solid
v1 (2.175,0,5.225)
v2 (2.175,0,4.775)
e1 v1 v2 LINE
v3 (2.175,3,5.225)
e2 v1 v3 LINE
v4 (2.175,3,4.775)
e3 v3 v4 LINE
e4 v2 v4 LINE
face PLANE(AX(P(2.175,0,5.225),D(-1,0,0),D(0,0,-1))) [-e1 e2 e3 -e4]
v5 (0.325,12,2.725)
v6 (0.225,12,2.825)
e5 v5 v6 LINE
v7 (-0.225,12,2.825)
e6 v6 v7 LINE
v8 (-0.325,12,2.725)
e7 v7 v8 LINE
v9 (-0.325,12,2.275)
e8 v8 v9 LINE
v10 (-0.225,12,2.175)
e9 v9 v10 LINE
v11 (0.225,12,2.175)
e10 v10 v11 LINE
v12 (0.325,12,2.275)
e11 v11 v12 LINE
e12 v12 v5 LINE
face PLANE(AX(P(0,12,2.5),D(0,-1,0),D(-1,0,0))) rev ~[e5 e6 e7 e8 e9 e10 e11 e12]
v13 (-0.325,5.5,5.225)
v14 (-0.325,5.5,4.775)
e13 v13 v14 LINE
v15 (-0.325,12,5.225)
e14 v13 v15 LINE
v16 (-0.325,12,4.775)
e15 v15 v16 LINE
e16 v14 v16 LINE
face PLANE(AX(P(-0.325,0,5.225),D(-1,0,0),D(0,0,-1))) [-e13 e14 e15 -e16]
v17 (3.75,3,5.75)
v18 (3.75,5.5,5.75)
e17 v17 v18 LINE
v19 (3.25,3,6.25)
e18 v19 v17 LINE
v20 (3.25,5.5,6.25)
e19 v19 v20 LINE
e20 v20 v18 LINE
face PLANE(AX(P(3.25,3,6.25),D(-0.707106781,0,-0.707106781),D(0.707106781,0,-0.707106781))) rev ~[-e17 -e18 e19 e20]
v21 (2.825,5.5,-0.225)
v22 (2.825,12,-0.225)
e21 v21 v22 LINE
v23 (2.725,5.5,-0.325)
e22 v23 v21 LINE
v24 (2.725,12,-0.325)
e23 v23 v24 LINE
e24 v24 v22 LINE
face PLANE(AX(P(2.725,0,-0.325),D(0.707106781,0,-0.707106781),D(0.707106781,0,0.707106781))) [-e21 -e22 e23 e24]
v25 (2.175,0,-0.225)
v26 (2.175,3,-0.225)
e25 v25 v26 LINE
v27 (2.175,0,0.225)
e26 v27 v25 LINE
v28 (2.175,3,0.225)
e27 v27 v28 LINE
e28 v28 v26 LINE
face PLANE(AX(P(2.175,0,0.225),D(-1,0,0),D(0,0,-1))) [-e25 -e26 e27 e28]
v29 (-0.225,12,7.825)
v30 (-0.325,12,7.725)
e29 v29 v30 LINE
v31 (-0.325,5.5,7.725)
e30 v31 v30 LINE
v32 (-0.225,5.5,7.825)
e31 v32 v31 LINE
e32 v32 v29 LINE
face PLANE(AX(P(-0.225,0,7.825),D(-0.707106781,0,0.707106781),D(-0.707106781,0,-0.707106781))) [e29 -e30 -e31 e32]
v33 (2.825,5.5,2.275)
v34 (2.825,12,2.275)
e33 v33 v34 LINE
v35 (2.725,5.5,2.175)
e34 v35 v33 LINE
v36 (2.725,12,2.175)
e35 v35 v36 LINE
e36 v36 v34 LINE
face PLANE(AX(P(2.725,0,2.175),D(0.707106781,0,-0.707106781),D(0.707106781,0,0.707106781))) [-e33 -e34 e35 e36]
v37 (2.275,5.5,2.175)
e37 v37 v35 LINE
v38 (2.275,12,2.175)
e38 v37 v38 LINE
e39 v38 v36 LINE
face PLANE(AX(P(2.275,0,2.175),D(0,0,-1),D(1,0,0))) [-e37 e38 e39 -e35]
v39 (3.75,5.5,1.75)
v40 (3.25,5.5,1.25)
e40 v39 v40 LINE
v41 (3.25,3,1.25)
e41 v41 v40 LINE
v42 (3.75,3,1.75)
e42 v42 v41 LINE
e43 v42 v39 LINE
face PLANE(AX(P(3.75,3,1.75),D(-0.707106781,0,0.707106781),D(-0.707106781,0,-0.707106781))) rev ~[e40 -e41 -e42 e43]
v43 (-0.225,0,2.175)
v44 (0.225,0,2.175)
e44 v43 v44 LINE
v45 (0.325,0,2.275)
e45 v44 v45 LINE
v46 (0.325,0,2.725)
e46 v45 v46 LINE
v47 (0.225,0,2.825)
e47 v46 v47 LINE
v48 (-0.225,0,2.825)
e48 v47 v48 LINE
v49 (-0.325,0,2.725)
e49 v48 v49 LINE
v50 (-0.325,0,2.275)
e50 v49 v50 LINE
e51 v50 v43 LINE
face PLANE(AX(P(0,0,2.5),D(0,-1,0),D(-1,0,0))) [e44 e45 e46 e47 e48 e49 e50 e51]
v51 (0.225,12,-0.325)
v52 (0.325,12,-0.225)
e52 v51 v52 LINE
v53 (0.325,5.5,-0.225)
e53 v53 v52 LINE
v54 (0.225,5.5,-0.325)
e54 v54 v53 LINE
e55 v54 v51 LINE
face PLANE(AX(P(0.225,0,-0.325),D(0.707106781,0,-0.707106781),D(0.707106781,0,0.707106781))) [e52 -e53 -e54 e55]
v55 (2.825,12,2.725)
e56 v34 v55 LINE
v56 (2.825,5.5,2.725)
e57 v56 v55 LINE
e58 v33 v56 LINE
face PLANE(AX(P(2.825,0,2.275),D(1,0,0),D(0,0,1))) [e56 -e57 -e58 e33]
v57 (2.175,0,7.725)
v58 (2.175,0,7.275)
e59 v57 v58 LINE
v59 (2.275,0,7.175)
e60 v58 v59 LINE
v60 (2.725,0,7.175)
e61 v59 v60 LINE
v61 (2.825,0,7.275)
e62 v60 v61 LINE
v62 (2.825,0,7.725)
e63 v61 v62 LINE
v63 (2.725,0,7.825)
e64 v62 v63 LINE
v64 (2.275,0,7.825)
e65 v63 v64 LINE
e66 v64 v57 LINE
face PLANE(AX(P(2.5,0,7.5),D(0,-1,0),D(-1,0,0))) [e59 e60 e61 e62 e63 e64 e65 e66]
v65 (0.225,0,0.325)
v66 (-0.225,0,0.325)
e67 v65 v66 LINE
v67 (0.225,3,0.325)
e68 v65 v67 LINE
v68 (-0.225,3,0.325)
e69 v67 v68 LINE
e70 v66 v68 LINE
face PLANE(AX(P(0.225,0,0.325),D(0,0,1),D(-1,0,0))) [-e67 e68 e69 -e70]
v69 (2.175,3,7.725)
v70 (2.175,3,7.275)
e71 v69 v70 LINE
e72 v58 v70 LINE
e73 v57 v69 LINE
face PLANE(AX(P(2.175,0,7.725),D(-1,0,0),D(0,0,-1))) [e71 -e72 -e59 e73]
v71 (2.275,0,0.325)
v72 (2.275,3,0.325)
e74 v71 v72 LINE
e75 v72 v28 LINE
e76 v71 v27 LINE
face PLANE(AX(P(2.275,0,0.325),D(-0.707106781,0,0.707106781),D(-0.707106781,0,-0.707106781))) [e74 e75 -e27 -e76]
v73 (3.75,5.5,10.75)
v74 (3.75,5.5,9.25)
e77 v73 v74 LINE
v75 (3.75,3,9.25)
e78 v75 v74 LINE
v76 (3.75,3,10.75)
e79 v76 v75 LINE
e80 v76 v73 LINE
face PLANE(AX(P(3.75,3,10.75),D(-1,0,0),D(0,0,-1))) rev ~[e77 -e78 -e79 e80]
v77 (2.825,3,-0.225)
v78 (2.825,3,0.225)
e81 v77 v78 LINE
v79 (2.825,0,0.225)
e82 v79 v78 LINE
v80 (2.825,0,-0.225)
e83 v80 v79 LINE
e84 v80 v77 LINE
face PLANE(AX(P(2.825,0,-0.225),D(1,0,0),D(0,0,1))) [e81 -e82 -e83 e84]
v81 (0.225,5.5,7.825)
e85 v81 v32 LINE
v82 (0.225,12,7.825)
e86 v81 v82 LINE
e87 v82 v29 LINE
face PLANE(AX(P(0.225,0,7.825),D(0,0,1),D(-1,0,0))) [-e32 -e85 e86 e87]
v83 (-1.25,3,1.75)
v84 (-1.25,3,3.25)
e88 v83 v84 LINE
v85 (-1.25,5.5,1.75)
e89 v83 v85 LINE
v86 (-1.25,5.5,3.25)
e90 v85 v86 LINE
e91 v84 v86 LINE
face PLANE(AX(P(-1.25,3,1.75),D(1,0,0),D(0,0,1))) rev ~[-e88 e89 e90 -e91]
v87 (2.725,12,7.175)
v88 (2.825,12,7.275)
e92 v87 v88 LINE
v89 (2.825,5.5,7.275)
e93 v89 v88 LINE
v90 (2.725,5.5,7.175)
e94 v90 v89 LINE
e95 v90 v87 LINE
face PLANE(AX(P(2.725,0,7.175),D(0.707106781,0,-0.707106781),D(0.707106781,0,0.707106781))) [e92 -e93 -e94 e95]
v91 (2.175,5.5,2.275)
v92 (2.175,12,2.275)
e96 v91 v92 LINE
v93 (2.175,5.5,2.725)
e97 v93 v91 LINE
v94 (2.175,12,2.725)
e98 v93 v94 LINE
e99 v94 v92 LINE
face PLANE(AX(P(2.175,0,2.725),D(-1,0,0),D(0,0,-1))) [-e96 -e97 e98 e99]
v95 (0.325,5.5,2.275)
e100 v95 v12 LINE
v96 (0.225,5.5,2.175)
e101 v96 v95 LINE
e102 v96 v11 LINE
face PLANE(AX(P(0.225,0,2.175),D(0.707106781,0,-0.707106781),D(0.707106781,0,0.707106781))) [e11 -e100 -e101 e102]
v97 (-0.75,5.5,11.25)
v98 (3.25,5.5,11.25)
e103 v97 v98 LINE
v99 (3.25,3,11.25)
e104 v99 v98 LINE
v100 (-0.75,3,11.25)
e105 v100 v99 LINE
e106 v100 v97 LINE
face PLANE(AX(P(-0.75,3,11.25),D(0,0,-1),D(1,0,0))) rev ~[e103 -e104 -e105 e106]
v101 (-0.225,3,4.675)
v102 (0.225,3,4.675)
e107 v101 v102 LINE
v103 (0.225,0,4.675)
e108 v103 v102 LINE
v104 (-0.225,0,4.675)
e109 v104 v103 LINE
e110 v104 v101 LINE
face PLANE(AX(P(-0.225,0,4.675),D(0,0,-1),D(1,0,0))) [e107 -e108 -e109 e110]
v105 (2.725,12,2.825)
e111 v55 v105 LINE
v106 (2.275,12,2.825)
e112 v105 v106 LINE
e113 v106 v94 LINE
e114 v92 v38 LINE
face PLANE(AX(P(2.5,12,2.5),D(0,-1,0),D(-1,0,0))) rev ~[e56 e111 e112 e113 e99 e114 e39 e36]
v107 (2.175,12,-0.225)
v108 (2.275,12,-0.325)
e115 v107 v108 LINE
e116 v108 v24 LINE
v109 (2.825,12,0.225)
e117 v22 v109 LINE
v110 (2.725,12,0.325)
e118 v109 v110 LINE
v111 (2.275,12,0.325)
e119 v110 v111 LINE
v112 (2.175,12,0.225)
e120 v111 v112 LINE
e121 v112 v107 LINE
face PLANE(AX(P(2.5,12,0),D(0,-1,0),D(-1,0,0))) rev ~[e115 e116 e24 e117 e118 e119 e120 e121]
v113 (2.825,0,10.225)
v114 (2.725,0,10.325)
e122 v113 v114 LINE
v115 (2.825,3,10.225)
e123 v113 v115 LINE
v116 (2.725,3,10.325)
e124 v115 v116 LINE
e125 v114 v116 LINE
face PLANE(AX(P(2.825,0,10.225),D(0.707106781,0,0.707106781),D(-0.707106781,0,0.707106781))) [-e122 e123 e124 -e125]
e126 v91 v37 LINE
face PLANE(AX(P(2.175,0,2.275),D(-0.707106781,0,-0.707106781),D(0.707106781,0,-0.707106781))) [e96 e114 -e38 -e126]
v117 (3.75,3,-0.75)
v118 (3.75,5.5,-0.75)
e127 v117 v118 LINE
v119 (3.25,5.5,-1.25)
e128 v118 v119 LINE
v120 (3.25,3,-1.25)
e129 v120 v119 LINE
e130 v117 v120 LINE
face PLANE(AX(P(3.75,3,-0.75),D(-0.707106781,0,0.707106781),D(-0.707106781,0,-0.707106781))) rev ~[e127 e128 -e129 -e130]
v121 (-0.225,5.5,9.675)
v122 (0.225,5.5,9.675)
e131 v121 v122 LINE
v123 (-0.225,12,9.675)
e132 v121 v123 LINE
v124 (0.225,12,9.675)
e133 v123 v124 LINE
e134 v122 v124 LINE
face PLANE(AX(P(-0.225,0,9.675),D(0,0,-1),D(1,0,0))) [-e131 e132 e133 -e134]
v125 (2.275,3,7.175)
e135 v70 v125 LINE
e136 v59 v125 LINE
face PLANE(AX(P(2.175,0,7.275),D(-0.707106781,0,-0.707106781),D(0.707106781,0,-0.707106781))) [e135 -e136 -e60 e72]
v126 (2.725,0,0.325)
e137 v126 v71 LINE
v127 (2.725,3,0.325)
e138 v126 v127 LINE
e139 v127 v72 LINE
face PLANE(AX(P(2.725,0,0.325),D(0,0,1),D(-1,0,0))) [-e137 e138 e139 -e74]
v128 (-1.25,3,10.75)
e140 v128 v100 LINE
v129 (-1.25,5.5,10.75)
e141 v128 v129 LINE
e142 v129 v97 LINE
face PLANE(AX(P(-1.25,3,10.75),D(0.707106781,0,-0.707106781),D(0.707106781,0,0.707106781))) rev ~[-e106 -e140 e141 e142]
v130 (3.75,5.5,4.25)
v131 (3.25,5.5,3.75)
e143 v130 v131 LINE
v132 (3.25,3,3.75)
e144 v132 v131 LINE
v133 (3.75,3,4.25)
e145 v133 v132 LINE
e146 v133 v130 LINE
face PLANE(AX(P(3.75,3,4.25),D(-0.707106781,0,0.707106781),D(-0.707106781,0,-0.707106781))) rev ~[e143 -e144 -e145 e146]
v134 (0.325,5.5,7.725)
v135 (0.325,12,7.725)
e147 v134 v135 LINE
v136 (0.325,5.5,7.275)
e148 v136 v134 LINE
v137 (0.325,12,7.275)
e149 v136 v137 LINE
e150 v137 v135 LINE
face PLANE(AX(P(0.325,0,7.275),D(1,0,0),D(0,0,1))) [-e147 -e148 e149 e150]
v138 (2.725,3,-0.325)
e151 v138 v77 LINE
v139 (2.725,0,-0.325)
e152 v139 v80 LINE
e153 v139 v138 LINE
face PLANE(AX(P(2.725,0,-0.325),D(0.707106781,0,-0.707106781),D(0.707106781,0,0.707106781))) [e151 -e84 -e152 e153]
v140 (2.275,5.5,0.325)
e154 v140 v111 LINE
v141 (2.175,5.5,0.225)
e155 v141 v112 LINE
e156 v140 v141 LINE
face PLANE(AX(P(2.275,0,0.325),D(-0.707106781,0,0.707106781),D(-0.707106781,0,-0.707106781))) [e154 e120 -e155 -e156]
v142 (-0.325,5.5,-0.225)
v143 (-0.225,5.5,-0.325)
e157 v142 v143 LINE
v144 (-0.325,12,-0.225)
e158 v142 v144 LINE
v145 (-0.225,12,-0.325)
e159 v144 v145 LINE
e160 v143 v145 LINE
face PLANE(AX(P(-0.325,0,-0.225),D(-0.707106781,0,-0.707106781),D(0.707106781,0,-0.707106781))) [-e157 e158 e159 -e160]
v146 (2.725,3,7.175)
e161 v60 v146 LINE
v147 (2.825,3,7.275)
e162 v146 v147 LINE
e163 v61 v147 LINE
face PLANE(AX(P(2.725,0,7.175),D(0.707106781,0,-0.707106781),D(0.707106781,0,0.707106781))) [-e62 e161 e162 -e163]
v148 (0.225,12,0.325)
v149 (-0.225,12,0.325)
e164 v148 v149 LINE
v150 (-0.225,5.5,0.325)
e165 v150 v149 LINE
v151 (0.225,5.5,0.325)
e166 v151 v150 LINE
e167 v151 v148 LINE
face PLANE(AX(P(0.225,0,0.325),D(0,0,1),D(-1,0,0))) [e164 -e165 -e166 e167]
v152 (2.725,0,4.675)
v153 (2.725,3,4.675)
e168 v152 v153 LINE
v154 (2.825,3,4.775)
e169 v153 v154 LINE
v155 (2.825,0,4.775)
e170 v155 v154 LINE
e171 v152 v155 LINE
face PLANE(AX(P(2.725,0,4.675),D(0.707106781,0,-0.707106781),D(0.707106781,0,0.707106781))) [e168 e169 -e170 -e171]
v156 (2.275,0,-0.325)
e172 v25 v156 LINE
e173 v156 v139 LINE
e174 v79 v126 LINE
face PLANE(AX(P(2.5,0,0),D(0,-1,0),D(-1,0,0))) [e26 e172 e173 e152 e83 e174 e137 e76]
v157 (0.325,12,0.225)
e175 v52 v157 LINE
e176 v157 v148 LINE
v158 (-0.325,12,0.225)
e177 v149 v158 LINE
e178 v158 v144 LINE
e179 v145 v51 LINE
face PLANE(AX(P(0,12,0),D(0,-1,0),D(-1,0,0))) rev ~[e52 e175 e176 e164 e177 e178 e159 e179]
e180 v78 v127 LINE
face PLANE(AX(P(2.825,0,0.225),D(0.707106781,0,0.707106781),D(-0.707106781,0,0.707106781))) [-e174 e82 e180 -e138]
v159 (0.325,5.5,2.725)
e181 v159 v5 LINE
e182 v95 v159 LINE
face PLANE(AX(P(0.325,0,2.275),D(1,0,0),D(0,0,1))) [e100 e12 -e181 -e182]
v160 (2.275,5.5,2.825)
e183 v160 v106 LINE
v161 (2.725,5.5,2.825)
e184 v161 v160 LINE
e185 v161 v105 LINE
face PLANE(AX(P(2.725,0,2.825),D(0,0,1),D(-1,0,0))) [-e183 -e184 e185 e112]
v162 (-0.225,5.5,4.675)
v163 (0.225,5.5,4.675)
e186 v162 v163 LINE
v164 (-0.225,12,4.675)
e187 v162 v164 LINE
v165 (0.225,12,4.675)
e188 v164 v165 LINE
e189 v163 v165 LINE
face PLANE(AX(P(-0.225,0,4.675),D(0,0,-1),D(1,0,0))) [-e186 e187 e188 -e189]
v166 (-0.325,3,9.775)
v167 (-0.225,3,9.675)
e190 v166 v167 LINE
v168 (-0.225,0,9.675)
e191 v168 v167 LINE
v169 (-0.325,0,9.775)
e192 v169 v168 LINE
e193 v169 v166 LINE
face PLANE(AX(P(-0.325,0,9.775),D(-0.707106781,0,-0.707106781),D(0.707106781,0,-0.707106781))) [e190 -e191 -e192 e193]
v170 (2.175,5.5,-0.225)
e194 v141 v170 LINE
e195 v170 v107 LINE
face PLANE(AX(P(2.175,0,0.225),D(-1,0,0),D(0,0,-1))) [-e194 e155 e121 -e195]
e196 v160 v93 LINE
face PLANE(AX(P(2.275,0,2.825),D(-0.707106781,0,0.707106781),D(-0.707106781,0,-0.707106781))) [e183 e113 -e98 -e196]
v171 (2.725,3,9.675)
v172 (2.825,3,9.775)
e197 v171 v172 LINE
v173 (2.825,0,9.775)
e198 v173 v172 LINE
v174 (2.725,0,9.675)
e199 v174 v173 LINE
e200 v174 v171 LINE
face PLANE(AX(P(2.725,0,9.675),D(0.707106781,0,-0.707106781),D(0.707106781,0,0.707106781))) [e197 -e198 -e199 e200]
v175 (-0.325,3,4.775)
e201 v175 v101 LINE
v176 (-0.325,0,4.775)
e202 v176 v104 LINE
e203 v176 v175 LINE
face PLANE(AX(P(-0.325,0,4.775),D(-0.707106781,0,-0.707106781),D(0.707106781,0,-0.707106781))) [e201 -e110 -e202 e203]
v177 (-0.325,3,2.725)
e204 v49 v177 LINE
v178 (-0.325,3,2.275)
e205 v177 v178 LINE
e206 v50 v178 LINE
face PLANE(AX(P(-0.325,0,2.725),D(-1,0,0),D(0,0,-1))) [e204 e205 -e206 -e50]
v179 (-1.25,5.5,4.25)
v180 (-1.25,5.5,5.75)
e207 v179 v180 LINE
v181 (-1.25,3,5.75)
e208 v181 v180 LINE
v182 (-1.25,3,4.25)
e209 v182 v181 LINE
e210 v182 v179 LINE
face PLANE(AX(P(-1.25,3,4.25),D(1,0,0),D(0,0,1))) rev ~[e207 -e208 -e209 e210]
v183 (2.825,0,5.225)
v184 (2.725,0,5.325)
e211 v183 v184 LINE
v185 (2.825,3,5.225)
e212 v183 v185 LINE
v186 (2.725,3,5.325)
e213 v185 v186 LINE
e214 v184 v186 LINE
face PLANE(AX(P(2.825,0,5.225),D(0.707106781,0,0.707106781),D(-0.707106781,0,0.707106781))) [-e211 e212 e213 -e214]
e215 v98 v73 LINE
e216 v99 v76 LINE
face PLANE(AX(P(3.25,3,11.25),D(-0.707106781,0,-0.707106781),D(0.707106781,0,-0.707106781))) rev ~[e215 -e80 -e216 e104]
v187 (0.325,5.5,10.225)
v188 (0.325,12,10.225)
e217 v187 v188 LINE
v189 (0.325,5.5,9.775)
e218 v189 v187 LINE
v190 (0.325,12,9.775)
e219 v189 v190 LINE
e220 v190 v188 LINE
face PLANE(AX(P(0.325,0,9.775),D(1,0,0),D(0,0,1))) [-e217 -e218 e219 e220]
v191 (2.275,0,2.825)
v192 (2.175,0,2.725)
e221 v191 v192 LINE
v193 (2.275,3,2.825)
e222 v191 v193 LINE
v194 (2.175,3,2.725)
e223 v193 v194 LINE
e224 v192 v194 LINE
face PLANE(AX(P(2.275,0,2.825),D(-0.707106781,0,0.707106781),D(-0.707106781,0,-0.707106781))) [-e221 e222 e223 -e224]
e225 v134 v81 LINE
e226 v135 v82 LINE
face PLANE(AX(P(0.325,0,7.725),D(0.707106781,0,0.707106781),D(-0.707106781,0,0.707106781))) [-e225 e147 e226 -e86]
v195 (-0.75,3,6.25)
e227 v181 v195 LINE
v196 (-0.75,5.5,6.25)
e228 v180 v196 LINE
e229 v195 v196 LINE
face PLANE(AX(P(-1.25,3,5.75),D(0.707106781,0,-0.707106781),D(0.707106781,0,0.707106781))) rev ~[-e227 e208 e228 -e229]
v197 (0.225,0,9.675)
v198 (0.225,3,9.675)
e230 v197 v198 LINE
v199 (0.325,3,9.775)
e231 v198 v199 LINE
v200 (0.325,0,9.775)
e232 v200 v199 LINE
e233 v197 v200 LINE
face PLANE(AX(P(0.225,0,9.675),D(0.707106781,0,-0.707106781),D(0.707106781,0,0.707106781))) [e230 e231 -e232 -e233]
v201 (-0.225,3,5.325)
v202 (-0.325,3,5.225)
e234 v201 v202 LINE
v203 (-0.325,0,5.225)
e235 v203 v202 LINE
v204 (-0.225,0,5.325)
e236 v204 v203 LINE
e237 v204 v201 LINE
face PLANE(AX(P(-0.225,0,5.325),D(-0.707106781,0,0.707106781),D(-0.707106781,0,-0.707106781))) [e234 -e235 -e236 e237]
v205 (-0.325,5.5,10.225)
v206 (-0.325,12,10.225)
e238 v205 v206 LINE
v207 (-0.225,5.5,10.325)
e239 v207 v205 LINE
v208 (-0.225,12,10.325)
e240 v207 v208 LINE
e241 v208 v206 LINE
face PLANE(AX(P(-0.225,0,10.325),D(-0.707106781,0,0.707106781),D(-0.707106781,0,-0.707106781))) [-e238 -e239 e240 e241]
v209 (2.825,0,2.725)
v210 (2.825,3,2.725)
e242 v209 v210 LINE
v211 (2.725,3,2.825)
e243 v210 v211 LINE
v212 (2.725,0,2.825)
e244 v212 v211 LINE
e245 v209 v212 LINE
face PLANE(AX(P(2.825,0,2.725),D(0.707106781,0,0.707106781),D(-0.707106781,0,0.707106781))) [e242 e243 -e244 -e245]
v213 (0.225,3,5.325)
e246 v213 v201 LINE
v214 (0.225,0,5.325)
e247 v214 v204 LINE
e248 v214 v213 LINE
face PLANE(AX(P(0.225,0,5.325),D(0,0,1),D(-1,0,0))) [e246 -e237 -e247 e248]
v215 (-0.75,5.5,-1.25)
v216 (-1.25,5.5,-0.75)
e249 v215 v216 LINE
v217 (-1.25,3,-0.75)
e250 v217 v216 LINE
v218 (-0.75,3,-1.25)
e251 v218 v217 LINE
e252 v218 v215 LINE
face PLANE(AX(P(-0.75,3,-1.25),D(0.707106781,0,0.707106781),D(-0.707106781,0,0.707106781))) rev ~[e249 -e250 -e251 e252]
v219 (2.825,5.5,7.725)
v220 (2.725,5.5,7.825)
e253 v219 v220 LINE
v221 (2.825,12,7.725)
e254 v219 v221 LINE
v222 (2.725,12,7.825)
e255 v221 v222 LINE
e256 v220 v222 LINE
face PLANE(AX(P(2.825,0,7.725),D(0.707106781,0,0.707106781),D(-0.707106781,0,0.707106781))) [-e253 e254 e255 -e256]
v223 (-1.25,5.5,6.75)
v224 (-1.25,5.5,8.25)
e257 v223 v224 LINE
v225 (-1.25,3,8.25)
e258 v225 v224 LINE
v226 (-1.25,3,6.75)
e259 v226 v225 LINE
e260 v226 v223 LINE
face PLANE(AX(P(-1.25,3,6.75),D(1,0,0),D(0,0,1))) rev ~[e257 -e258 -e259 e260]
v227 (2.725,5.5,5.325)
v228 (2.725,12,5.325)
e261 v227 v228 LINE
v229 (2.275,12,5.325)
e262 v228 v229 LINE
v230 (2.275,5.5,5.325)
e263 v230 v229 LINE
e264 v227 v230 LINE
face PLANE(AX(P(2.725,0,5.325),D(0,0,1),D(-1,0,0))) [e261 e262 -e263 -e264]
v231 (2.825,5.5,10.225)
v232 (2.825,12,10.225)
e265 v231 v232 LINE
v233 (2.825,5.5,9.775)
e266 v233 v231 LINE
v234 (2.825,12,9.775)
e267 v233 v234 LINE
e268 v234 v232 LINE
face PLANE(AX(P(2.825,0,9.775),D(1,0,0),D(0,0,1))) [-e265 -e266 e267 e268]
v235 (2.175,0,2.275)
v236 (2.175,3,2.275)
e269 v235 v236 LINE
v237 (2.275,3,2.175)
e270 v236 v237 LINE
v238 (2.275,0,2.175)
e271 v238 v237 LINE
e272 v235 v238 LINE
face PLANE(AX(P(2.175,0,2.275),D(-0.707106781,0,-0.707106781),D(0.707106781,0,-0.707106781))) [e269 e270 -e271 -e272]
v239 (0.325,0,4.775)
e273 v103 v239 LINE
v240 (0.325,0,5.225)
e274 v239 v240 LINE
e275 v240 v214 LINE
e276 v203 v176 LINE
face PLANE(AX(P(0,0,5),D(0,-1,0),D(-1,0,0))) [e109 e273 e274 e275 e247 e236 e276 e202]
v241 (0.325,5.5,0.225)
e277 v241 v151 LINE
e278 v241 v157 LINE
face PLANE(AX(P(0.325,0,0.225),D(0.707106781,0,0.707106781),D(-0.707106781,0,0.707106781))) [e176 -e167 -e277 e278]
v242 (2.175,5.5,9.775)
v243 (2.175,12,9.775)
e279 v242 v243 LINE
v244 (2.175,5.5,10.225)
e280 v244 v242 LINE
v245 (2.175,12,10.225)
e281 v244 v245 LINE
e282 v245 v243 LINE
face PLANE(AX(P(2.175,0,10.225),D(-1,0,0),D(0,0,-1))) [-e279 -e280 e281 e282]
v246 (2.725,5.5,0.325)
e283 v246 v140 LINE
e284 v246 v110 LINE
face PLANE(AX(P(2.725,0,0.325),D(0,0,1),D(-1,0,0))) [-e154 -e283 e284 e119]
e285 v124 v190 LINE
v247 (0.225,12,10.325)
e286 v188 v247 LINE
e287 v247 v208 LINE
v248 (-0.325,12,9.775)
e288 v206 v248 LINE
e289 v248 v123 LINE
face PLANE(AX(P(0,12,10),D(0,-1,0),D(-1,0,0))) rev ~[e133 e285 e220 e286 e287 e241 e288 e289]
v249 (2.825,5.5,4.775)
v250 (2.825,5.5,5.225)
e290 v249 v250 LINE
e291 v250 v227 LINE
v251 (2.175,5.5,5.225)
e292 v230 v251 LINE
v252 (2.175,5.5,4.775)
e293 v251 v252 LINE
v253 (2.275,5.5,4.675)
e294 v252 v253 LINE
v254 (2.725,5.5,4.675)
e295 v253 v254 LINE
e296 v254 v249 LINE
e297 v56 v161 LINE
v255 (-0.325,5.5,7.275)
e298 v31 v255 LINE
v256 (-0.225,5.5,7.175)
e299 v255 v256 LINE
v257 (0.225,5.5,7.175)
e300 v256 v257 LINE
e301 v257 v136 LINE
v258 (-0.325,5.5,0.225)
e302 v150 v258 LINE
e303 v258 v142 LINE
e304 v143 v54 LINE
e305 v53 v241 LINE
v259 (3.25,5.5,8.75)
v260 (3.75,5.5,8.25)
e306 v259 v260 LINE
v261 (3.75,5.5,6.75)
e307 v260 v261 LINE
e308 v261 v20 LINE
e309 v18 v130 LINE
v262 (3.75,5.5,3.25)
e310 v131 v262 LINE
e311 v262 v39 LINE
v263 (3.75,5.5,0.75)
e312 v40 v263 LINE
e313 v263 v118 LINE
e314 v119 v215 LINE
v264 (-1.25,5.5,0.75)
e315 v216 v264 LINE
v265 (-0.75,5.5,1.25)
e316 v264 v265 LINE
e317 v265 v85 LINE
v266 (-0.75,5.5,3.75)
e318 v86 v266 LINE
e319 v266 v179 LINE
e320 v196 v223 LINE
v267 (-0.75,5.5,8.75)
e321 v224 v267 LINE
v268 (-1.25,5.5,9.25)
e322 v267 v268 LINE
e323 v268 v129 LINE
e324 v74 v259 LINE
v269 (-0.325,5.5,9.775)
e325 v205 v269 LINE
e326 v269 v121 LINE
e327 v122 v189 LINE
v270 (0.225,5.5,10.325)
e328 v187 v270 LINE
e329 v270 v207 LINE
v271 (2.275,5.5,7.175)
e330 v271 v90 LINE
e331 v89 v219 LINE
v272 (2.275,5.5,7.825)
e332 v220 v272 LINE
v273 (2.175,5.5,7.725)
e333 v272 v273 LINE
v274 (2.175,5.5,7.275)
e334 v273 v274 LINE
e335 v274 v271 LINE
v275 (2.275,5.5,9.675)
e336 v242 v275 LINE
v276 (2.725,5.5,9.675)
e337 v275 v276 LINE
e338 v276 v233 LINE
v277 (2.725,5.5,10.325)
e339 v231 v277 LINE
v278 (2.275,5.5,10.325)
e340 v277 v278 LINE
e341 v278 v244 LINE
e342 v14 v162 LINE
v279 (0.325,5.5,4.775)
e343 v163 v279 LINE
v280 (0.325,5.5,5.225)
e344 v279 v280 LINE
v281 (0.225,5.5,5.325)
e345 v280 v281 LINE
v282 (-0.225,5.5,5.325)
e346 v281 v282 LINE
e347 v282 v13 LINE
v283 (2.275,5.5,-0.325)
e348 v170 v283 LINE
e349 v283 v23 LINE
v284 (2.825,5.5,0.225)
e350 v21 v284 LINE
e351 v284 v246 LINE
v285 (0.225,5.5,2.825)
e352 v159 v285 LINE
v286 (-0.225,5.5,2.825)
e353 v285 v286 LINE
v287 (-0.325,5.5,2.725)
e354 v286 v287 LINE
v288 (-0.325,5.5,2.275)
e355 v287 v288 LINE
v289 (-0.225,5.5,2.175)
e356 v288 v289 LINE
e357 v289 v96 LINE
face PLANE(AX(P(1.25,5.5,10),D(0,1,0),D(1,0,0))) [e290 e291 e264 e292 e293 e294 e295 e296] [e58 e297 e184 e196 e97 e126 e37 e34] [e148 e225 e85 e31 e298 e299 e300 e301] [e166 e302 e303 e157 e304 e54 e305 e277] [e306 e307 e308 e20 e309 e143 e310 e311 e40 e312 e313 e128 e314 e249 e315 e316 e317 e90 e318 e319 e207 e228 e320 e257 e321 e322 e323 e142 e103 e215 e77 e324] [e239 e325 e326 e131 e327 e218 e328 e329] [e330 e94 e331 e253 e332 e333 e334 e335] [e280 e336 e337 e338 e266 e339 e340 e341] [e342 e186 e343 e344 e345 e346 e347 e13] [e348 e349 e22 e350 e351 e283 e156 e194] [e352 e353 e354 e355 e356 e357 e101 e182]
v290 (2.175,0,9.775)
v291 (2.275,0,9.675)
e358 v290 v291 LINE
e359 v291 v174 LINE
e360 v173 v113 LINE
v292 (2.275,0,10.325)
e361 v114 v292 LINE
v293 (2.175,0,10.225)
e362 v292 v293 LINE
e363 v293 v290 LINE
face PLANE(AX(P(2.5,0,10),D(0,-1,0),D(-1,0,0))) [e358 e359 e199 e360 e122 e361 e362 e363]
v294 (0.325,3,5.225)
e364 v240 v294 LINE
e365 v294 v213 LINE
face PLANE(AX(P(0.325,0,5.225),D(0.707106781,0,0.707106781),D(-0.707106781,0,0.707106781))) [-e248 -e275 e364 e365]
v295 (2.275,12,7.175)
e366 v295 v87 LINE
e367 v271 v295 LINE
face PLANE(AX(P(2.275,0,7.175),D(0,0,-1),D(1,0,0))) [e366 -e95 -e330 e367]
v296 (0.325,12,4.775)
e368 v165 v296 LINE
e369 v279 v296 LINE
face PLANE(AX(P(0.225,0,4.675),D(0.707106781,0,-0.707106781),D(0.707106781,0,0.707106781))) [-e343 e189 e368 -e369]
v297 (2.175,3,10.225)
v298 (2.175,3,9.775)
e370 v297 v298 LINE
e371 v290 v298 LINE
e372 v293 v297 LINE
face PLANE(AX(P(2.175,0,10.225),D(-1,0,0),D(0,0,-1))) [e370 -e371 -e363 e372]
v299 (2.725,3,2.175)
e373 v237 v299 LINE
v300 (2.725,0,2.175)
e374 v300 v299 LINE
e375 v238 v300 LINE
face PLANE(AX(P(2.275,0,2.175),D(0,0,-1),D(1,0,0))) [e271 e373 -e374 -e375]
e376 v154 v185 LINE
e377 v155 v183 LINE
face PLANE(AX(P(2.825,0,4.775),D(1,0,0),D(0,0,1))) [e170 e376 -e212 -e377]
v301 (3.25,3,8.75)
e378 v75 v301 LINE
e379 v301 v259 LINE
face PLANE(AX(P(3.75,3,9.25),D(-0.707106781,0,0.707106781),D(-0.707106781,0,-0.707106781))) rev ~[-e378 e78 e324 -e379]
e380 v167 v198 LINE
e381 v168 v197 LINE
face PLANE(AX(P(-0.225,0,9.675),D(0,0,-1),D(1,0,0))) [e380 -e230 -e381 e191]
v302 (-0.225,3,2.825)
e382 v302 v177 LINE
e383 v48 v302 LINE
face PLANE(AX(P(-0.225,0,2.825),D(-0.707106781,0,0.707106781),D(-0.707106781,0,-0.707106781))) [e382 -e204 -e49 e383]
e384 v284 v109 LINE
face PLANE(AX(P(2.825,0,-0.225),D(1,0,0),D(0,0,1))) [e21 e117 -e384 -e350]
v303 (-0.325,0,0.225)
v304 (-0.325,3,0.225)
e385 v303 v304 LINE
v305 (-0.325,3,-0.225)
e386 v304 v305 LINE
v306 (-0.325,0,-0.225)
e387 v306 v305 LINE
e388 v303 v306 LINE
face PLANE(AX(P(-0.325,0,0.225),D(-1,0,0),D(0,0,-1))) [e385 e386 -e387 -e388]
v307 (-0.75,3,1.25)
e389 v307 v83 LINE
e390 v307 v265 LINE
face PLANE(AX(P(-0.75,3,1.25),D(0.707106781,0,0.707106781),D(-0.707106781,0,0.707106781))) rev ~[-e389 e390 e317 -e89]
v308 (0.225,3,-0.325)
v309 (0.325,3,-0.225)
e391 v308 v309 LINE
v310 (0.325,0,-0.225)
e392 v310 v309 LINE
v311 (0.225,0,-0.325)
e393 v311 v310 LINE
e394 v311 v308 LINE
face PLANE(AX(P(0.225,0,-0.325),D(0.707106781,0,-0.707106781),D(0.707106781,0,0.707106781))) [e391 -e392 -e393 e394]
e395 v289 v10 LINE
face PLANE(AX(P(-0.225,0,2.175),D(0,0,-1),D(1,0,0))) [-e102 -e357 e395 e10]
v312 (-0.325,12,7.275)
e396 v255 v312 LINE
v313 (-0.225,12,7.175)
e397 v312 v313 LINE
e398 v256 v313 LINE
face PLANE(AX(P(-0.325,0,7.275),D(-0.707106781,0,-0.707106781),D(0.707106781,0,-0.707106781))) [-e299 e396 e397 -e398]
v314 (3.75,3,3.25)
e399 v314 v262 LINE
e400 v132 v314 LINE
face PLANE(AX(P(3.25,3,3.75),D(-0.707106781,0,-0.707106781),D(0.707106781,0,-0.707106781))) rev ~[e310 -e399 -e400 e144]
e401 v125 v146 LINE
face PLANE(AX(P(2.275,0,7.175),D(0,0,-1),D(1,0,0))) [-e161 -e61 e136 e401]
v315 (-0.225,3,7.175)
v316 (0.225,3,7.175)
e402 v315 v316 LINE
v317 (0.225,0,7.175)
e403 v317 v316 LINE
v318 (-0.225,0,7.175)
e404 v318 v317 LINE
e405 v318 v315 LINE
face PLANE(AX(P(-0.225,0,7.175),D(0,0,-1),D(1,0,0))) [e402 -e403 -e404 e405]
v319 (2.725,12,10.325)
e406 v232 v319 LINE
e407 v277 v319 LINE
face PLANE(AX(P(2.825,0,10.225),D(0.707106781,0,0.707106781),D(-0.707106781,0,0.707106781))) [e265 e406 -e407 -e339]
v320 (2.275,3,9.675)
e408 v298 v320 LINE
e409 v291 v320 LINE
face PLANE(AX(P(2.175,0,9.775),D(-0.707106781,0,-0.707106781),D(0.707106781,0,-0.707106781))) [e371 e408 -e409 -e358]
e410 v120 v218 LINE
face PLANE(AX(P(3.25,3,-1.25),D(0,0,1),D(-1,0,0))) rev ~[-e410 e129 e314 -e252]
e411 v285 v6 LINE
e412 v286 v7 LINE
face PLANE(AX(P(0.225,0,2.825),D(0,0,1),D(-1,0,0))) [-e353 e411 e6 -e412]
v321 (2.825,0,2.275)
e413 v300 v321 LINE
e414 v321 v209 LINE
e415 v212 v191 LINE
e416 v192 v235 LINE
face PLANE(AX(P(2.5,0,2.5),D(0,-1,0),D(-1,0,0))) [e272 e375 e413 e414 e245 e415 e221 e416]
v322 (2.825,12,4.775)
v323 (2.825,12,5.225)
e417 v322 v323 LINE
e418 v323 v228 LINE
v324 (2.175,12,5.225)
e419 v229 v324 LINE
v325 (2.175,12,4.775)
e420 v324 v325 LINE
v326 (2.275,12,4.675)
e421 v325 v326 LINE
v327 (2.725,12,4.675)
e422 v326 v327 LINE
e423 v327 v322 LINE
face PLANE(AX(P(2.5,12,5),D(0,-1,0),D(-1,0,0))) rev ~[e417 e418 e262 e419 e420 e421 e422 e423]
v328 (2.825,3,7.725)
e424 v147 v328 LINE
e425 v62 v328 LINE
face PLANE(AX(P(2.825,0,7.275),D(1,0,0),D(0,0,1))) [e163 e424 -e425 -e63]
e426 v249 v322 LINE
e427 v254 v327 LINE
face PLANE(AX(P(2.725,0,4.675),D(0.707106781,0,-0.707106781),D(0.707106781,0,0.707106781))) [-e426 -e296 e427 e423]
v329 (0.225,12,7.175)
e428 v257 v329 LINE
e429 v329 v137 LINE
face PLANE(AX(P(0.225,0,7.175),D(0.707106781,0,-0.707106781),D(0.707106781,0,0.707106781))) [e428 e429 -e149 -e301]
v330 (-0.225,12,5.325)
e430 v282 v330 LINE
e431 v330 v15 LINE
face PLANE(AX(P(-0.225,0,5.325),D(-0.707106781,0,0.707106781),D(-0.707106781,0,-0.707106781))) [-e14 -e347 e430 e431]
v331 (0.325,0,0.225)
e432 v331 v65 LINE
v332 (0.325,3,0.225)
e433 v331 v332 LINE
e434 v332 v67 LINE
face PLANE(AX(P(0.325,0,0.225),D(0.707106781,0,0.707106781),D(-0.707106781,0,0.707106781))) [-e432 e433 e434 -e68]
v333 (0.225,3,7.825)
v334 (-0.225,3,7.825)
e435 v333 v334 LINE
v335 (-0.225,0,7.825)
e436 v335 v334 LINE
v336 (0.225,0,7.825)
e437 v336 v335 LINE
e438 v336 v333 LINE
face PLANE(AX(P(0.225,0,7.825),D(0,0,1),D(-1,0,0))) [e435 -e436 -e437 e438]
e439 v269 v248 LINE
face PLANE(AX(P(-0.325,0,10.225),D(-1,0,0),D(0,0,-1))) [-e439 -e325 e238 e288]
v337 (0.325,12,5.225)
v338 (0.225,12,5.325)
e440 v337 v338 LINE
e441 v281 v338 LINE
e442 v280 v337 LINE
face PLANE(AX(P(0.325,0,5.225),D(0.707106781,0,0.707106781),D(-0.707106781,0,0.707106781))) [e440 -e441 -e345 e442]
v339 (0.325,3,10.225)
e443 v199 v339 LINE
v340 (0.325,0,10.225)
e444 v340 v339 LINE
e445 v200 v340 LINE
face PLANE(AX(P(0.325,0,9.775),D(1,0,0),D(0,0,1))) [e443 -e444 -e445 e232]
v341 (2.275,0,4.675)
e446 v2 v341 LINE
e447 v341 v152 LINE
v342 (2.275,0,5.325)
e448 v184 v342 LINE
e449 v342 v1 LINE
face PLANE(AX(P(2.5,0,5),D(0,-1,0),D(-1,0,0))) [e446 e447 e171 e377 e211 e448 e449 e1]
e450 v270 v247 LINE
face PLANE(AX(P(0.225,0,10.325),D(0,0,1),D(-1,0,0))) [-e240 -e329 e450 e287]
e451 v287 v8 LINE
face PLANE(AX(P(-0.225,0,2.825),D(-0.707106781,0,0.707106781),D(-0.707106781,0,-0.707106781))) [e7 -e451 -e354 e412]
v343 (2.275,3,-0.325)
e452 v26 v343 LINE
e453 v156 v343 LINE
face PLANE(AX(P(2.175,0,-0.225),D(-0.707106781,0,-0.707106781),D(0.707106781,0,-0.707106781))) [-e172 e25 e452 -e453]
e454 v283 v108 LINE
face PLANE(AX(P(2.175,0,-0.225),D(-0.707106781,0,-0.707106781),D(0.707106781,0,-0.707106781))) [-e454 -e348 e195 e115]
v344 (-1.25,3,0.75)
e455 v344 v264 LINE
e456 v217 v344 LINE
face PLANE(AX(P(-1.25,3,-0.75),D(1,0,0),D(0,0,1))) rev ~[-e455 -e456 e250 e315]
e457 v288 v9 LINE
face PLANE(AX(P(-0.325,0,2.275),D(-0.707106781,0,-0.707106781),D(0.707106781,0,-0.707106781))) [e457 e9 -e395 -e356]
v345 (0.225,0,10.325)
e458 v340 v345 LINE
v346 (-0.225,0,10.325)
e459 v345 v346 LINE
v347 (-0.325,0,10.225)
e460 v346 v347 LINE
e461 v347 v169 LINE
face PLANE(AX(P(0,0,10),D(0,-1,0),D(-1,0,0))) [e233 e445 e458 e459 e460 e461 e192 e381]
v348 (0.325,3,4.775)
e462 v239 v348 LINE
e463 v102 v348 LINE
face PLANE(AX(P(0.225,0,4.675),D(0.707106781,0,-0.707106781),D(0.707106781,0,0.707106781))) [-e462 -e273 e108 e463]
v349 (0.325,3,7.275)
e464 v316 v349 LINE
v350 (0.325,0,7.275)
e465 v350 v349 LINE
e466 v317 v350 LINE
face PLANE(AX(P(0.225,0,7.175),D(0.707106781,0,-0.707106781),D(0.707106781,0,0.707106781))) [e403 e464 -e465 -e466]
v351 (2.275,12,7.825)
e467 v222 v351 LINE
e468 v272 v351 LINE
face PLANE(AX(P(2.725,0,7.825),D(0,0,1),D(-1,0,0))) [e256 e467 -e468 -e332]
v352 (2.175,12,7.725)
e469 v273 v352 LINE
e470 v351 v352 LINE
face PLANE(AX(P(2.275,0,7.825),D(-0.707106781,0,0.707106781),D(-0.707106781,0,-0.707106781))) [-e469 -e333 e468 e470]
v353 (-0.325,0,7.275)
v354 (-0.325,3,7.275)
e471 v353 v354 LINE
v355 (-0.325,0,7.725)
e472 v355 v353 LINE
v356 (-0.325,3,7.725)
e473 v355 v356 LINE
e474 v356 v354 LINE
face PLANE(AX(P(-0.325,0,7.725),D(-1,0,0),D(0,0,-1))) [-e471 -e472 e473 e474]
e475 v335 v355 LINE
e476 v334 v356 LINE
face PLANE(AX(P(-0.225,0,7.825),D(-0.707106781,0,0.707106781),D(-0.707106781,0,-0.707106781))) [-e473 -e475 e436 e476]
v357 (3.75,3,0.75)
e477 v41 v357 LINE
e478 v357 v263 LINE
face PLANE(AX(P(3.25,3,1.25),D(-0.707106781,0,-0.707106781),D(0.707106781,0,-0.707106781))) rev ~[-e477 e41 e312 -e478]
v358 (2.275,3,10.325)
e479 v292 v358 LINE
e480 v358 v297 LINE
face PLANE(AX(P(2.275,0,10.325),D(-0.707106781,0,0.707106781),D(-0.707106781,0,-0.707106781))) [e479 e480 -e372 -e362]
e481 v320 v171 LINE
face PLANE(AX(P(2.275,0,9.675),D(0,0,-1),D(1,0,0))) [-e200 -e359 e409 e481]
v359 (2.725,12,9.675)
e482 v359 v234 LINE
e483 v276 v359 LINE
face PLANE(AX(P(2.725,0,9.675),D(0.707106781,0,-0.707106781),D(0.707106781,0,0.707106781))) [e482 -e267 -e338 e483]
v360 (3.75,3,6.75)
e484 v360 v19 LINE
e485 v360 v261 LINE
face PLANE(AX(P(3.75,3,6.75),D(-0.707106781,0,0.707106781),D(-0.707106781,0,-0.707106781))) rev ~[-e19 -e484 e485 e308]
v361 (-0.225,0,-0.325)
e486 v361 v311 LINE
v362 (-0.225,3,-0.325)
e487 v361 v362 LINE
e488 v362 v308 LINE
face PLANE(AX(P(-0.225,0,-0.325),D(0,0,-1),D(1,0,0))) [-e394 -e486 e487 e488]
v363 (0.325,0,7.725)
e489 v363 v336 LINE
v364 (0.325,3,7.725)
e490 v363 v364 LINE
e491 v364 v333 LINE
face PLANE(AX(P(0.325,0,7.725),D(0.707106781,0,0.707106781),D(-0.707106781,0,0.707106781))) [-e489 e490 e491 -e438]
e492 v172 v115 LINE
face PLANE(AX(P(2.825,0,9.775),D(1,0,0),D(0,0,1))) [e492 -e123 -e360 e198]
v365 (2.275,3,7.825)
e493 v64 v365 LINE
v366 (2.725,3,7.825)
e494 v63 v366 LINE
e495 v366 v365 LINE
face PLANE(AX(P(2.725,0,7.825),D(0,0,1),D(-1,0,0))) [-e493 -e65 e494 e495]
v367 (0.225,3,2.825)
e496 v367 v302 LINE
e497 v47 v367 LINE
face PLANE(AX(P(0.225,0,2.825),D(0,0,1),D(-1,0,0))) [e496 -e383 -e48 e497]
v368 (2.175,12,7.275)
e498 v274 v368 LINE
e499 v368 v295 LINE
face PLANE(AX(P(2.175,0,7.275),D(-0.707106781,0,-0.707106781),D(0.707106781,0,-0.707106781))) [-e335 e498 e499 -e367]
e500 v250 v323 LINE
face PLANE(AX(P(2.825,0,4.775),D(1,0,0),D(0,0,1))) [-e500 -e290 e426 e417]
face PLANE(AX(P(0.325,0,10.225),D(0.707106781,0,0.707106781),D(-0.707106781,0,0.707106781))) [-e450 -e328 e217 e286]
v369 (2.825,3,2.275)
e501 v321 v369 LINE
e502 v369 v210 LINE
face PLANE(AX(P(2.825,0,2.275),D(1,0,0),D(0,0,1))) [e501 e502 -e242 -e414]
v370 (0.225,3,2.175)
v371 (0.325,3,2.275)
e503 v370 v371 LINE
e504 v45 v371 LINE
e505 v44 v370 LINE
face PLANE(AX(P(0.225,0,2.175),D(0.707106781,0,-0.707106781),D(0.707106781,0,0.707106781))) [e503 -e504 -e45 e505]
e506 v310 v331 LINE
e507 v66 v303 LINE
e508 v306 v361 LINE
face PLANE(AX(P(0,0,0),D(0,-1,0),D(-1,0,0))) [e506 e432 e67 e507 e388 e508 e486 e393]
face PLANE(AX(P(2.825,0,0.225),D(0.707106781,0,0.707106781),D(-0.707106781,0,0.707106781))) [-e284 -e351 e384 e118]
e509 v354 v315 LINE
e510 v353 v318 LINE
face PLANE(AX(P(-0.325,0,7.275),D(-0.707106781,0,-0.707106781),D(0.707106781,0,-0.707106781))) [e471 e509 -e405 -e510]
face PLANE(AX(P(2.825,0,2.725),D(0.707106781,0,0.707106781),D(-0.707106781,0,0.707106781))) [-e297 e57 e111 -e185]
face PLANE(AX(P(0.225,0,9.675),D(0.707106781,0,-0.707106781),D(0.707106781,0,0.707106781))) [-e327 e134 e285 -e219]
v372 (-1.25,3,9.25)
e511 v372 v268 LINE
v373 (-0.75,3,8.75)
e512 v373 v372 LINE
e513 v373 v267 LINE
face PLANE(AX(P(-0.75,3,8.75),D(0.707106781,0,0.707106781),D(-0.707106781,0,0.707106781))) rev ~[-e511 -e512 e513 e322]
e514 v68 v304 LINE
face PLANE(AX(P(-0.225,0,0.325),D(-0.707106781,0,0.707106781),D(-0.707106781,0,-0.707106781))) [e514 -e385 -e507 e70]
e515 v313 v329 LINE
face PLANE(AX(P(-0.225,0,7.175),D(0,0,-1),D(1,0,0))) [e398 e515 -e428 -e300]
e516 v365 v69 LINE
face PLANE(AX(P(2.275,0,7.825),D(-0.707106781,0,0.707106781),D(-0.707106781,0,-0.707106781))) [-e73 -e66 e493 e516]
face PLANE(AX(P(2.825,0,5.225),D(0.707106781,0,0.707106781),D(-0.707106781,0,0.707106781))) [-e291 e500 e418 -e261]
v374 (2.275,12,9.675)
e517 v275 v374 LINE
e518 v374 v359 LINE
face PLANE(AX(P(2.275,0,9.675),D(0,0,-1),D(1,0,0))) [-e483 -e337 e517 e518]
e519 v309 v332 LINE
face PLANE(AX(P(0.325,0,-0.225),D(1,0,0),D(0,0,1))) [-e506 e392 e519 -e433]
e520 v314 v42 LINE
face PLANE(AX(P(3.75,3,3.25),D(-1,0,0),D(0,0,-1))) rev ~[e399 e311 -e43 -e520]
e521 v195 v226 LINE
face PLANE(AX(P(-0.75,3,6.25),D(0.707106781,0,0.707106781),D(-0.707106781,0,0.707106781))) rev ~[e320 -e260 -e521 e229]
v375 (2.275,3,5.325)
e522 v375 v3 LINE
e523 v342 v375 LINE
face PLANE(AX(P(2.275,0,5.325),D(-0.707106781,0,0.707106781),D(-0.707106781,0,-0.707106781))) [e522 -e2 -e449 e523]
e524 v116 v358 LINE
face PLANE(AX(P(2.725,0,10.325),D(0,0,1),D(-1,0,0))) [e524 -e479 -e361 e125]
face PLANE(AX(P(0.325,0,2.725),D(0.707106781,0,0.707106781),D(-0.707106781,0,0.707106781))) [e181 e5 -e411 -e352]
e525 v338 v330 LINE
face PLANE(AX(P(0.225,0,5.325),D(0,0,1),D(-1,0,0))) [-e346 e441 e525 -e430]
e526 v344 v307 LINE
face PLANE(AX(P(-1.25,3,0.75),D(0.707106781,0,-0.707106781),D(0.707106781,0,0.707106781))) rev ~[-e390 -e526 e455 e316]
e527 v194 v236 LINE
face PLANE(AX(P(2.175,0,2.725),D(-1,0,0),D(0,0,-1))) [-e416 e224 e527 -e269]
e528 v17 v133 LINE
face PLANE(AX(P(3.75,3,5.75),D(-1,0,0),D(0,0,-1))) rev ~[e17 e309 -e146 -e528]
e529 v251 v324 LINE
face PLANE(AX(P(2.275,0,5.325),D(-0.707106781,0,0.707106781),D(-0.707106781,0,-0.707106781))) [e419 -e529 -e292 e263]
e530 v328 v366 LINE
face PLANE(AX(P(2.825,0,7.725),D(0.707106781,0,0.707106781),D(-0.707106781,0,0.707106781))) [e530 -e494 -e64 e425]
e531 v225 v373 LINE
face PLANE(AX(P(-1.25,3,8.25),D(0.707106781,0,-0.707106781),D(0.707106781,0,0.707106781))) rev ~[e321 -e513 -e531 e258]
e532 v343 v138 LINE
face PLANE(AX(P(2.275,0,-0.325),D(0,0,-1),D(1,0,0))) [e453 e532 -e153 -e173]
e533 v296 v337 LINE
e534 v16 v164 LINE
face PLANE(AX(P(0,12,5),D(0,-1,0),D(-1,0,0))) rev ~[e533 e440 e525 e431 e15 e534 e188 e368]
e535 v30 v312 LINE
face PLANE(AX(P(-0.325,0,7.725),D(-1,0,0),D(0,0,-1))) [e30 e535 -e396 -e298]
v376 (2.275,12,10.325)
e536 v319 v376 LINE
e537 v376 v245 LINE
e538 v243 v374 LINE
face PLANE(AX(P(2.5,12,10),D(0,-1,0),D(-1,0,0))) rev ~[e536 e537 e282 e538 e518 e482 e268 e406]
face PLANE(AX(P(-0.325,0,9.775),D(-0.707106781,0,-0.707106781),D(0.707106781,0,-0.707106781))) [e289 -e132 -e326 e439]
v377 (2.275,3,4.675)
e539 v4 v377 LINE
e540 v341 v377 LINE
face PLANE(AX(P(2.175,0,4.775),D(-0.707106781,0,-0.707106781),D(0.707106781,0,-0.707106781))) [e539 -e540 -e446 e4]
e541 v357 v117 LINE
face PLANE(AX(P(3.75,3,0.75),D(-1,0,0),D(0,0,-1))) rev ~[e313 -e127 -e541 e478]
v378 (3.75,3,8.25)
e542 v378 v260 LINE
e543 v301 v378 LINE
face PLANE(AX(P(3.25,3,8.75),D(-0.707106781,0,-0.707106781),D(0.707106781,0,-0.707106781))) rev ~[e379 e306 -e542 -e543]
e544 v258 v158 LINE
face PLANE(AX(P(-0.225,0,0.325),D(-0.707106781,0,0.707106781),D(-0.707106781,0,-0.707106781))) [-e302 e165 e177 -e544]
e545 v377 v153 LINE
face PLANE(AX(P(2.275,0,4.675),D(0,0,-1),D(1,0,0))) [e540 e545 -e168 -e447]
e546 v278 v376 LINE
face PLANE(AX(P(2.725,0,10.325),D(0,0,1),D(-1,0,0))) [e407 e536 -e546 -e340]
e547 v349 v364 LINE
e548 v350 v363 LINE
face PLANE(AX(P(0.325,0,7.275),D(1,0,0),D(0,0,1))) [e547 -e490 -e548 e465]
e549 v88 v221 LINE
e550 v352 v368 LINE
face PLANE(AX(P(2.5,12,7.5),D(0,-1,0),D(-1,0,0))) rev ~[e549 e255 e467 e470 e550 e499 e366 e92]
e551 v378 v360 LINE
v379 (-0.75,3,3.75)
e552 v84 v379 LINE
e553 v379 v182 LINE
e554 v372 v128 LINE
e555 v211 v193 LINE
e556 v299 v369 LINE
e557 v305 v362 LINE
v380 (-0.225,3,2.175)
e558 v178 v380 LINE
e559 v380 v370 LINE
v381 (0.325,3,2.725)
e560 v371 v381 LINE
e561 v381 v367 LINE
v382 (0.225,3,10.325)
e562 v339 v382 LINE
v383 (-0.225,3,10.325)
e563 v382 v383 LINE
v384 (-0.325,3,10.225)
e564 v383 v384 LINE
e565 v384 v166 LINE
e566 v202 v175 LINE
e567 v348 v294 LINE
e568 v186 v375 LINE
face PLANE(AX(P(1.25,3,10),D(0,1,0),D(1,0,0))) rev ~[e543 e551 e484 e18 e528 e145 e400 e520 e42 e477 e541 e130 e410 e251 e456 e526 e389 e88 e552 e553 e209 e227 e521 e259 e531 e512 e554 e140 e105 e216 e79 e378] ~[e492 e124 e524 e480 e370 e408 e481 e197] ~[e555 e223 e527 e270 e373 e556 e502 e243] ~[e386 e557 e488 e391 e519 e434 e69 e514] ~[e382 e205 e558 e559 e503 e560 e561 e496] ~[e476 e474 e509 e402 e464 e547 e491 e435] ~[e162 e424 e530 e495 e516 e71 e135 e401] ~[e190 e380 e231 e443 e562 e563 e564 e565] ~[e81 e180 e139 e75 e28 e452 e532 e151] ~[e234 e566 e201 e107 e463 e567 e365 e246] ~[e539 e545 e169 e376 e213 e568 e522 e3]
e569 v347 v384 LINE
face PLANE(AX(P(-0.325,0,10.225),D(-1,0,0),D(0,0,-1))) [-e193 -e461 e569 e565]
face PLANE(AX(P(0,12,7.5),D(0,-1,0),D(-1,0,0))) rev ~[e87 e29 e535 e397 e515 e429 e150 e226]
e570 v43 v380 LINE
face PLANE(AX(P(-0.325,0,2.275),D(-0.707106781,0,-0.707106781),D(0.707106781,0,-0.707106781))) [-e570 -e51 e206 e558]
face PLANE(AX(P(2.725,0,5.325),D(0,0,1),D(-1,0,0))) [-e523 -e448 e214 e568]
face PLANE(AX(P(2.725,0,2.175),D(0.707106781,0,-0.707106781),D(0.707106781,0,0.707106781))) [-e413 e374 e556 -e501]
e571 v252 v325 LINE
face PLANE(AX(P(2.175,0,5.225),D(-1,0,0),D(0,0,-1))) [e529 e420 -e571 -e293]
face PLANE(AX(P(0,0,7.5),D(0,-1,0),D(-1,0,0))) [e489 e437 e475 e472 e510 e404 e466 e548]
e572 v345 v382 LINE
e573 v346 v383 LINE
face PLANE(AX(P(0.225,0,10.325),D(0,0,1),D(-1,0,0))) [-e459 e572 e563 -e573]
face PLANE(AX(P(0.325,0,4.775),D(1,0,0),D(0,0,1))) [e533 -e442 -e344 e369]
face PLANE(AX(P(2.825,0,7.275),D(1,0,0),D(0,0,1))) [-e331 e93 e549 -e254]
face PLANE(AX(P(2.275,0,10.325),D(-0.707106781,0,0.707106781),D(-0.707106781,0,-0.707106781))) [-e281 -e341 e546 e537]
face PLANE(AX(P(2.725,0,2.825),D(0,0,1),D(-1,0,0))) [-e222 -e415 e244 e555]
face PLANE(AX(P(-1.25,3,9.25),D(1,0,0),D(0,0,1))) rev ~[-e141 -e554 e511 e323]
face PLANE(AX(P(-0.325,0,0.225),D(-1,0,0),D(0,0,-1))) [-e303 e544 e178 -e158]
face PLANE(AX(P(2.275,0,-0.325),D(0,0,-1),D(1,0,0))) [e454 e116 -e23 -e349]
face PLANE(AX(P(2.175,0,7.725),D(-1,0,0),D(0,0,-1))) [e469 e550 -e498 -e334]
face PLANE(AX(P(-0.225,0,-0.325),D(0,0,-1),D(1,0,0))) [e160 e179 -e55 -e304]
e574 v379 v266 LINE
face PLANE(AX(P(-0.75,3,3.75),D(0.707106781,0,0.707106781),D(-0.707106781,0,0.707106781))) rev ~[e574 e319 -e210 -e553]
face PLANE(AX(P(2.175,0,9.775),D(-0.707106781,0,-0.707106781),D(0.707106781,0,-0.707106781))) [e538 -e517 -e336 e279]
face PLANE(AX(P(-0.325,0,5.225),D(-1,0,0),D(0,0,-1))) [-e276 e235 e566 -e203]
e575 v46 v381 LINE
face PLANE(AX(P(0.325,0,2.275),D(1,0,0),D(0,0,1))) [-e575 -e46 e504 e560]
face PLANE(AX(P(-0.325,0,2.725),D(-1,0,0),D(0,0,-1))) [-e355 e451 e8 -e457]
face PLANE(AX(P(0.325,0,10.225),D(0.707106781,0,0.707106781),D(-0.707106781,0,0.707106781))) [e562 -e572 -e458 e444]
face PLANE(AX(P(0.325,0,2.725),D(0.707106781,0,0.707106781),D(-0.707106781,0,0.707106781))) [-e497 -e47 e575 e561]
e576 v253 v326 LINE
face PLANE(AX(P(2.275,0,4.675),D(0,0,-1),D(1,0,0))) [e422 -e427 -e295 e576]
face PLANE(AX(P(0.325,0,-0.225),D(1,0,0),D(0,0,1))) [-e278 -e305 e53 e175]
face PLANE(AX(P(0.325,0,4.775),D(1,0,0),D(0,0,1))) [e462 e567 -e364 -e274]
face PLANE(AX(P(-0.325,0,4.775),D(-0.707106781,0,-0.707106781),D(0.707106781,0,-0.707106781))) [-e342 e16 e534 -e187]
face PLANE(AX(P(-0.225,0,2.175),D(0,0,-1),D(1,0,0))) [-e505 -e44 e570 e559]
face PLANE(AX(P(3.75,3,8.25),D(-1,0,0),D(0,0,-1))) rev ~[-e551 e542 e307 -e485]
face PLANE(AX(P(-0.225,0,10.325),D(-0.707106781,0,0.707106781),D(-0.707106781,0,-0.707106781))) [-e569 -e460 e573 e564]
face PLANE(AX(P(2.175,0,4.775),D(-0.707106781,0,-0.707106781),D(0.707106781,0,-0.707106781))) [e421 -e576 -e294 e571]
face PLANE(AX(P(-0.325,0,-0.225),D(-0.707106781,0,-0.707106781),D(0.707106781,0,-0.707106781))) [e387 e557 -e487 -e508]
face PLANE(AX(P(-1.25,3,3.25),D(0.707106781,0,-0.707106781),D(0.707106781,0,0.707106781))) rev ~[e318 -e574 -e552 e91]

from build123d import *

# Parameters (mm, degrees)
BOSS_EXTRUDE1_DEPTH = 12
LPATTERN1_COUNT     = 2
LPATTERN1_PITCH     = 2.5
BOSS_EXTRUDE3_DEPTH = 2.5
LPATTERN3_COUNT     = 5
LPATTERN3_PITCH     = 2.5


with BuildPart() as part:
    # Sketch1 → Boss-Extrude1 (new body)
    with BuildSketch(Plane(origin=(0, 0, 0), x_dir=(1, 0, 0), z_dir=(0, 1, 0))):
        Polygon((-0.325, 0.225), (-0.225, 0.325), (0.225, 0.325), (0.325, 0.225), (0.325, -0.225), (0.225, -0.325), (-0.225, -0.325), (-0.325, -0.225), align=None)
    extrude(amount=BOSS_EXTRUDE1_DEPTH)


with BuildPart() as lpattern1_1:
    # LPattern1: pattern copy
    add(part.part.moved(Location(Vector(1, 0, 0) * (1 * LPATTERN1_PITCH))))


with BuildPart() as part_1:
    add(part.part)

    add(lpattern1_1.part)  # Boss-Extrude3 merges LPattern1_1
    # Sketch3 → Boss-Extrude3 (add)
    with BuildSketch(Plane(origin=(0, 3, 0), x_dir=(-1, 0, 0), z_dir=(0, -1, 0))):
        Polygon((-3.75, 0.75), (-3.25, 1.25), (0.75, 1.25), (1.25, 0.75), (1.25, -0.75), (0.75, -1.25), (-3.25, -1.25), (-3.75, -0.75), align=None)
    extrude(amount=-BOSS_EXTRUDE3_DEPTH)


with BuildPart() as lpattern3_1:
    # LPattern3: pattern copy
    add(part_1.part.moved(Location(Vector(0, 0, 1) * (1 * LPATTERN3_PITCH))))


with BuildPart() as lpattern3_2:
    # LPattern3: pattern copy
    add(part_1.part.moved(Location(Vector(0, 0, 1) * (2 * LPATTERN3_PITCH))))


with BuildPart() as lpattern3_3:
    # LPattern3: pattern copy
    add(part_1.part.moved(Location(Vector(0, 0, 1) * (3 * LPATTERN3_PITCH))))


with BuildPart() as lpattern3_4:
    # LPattern3: pattern copy
    add(part_1.part.moved(Location(Vector(0, 0, 1) * (4 * LPATTERN3_PITCH))))


with BuildPart() as part_2:
    add(part_1.part)

    # Combine1: union LPattern3_1, LPattern3_2, LPattern3_3, LPattern3_4
    add(lpattern3_1.part)
    add(lpattern3_2.part)
    add(lpattern3_3.part)
    add(lpattern3_4.part)


solid = part_2.part
